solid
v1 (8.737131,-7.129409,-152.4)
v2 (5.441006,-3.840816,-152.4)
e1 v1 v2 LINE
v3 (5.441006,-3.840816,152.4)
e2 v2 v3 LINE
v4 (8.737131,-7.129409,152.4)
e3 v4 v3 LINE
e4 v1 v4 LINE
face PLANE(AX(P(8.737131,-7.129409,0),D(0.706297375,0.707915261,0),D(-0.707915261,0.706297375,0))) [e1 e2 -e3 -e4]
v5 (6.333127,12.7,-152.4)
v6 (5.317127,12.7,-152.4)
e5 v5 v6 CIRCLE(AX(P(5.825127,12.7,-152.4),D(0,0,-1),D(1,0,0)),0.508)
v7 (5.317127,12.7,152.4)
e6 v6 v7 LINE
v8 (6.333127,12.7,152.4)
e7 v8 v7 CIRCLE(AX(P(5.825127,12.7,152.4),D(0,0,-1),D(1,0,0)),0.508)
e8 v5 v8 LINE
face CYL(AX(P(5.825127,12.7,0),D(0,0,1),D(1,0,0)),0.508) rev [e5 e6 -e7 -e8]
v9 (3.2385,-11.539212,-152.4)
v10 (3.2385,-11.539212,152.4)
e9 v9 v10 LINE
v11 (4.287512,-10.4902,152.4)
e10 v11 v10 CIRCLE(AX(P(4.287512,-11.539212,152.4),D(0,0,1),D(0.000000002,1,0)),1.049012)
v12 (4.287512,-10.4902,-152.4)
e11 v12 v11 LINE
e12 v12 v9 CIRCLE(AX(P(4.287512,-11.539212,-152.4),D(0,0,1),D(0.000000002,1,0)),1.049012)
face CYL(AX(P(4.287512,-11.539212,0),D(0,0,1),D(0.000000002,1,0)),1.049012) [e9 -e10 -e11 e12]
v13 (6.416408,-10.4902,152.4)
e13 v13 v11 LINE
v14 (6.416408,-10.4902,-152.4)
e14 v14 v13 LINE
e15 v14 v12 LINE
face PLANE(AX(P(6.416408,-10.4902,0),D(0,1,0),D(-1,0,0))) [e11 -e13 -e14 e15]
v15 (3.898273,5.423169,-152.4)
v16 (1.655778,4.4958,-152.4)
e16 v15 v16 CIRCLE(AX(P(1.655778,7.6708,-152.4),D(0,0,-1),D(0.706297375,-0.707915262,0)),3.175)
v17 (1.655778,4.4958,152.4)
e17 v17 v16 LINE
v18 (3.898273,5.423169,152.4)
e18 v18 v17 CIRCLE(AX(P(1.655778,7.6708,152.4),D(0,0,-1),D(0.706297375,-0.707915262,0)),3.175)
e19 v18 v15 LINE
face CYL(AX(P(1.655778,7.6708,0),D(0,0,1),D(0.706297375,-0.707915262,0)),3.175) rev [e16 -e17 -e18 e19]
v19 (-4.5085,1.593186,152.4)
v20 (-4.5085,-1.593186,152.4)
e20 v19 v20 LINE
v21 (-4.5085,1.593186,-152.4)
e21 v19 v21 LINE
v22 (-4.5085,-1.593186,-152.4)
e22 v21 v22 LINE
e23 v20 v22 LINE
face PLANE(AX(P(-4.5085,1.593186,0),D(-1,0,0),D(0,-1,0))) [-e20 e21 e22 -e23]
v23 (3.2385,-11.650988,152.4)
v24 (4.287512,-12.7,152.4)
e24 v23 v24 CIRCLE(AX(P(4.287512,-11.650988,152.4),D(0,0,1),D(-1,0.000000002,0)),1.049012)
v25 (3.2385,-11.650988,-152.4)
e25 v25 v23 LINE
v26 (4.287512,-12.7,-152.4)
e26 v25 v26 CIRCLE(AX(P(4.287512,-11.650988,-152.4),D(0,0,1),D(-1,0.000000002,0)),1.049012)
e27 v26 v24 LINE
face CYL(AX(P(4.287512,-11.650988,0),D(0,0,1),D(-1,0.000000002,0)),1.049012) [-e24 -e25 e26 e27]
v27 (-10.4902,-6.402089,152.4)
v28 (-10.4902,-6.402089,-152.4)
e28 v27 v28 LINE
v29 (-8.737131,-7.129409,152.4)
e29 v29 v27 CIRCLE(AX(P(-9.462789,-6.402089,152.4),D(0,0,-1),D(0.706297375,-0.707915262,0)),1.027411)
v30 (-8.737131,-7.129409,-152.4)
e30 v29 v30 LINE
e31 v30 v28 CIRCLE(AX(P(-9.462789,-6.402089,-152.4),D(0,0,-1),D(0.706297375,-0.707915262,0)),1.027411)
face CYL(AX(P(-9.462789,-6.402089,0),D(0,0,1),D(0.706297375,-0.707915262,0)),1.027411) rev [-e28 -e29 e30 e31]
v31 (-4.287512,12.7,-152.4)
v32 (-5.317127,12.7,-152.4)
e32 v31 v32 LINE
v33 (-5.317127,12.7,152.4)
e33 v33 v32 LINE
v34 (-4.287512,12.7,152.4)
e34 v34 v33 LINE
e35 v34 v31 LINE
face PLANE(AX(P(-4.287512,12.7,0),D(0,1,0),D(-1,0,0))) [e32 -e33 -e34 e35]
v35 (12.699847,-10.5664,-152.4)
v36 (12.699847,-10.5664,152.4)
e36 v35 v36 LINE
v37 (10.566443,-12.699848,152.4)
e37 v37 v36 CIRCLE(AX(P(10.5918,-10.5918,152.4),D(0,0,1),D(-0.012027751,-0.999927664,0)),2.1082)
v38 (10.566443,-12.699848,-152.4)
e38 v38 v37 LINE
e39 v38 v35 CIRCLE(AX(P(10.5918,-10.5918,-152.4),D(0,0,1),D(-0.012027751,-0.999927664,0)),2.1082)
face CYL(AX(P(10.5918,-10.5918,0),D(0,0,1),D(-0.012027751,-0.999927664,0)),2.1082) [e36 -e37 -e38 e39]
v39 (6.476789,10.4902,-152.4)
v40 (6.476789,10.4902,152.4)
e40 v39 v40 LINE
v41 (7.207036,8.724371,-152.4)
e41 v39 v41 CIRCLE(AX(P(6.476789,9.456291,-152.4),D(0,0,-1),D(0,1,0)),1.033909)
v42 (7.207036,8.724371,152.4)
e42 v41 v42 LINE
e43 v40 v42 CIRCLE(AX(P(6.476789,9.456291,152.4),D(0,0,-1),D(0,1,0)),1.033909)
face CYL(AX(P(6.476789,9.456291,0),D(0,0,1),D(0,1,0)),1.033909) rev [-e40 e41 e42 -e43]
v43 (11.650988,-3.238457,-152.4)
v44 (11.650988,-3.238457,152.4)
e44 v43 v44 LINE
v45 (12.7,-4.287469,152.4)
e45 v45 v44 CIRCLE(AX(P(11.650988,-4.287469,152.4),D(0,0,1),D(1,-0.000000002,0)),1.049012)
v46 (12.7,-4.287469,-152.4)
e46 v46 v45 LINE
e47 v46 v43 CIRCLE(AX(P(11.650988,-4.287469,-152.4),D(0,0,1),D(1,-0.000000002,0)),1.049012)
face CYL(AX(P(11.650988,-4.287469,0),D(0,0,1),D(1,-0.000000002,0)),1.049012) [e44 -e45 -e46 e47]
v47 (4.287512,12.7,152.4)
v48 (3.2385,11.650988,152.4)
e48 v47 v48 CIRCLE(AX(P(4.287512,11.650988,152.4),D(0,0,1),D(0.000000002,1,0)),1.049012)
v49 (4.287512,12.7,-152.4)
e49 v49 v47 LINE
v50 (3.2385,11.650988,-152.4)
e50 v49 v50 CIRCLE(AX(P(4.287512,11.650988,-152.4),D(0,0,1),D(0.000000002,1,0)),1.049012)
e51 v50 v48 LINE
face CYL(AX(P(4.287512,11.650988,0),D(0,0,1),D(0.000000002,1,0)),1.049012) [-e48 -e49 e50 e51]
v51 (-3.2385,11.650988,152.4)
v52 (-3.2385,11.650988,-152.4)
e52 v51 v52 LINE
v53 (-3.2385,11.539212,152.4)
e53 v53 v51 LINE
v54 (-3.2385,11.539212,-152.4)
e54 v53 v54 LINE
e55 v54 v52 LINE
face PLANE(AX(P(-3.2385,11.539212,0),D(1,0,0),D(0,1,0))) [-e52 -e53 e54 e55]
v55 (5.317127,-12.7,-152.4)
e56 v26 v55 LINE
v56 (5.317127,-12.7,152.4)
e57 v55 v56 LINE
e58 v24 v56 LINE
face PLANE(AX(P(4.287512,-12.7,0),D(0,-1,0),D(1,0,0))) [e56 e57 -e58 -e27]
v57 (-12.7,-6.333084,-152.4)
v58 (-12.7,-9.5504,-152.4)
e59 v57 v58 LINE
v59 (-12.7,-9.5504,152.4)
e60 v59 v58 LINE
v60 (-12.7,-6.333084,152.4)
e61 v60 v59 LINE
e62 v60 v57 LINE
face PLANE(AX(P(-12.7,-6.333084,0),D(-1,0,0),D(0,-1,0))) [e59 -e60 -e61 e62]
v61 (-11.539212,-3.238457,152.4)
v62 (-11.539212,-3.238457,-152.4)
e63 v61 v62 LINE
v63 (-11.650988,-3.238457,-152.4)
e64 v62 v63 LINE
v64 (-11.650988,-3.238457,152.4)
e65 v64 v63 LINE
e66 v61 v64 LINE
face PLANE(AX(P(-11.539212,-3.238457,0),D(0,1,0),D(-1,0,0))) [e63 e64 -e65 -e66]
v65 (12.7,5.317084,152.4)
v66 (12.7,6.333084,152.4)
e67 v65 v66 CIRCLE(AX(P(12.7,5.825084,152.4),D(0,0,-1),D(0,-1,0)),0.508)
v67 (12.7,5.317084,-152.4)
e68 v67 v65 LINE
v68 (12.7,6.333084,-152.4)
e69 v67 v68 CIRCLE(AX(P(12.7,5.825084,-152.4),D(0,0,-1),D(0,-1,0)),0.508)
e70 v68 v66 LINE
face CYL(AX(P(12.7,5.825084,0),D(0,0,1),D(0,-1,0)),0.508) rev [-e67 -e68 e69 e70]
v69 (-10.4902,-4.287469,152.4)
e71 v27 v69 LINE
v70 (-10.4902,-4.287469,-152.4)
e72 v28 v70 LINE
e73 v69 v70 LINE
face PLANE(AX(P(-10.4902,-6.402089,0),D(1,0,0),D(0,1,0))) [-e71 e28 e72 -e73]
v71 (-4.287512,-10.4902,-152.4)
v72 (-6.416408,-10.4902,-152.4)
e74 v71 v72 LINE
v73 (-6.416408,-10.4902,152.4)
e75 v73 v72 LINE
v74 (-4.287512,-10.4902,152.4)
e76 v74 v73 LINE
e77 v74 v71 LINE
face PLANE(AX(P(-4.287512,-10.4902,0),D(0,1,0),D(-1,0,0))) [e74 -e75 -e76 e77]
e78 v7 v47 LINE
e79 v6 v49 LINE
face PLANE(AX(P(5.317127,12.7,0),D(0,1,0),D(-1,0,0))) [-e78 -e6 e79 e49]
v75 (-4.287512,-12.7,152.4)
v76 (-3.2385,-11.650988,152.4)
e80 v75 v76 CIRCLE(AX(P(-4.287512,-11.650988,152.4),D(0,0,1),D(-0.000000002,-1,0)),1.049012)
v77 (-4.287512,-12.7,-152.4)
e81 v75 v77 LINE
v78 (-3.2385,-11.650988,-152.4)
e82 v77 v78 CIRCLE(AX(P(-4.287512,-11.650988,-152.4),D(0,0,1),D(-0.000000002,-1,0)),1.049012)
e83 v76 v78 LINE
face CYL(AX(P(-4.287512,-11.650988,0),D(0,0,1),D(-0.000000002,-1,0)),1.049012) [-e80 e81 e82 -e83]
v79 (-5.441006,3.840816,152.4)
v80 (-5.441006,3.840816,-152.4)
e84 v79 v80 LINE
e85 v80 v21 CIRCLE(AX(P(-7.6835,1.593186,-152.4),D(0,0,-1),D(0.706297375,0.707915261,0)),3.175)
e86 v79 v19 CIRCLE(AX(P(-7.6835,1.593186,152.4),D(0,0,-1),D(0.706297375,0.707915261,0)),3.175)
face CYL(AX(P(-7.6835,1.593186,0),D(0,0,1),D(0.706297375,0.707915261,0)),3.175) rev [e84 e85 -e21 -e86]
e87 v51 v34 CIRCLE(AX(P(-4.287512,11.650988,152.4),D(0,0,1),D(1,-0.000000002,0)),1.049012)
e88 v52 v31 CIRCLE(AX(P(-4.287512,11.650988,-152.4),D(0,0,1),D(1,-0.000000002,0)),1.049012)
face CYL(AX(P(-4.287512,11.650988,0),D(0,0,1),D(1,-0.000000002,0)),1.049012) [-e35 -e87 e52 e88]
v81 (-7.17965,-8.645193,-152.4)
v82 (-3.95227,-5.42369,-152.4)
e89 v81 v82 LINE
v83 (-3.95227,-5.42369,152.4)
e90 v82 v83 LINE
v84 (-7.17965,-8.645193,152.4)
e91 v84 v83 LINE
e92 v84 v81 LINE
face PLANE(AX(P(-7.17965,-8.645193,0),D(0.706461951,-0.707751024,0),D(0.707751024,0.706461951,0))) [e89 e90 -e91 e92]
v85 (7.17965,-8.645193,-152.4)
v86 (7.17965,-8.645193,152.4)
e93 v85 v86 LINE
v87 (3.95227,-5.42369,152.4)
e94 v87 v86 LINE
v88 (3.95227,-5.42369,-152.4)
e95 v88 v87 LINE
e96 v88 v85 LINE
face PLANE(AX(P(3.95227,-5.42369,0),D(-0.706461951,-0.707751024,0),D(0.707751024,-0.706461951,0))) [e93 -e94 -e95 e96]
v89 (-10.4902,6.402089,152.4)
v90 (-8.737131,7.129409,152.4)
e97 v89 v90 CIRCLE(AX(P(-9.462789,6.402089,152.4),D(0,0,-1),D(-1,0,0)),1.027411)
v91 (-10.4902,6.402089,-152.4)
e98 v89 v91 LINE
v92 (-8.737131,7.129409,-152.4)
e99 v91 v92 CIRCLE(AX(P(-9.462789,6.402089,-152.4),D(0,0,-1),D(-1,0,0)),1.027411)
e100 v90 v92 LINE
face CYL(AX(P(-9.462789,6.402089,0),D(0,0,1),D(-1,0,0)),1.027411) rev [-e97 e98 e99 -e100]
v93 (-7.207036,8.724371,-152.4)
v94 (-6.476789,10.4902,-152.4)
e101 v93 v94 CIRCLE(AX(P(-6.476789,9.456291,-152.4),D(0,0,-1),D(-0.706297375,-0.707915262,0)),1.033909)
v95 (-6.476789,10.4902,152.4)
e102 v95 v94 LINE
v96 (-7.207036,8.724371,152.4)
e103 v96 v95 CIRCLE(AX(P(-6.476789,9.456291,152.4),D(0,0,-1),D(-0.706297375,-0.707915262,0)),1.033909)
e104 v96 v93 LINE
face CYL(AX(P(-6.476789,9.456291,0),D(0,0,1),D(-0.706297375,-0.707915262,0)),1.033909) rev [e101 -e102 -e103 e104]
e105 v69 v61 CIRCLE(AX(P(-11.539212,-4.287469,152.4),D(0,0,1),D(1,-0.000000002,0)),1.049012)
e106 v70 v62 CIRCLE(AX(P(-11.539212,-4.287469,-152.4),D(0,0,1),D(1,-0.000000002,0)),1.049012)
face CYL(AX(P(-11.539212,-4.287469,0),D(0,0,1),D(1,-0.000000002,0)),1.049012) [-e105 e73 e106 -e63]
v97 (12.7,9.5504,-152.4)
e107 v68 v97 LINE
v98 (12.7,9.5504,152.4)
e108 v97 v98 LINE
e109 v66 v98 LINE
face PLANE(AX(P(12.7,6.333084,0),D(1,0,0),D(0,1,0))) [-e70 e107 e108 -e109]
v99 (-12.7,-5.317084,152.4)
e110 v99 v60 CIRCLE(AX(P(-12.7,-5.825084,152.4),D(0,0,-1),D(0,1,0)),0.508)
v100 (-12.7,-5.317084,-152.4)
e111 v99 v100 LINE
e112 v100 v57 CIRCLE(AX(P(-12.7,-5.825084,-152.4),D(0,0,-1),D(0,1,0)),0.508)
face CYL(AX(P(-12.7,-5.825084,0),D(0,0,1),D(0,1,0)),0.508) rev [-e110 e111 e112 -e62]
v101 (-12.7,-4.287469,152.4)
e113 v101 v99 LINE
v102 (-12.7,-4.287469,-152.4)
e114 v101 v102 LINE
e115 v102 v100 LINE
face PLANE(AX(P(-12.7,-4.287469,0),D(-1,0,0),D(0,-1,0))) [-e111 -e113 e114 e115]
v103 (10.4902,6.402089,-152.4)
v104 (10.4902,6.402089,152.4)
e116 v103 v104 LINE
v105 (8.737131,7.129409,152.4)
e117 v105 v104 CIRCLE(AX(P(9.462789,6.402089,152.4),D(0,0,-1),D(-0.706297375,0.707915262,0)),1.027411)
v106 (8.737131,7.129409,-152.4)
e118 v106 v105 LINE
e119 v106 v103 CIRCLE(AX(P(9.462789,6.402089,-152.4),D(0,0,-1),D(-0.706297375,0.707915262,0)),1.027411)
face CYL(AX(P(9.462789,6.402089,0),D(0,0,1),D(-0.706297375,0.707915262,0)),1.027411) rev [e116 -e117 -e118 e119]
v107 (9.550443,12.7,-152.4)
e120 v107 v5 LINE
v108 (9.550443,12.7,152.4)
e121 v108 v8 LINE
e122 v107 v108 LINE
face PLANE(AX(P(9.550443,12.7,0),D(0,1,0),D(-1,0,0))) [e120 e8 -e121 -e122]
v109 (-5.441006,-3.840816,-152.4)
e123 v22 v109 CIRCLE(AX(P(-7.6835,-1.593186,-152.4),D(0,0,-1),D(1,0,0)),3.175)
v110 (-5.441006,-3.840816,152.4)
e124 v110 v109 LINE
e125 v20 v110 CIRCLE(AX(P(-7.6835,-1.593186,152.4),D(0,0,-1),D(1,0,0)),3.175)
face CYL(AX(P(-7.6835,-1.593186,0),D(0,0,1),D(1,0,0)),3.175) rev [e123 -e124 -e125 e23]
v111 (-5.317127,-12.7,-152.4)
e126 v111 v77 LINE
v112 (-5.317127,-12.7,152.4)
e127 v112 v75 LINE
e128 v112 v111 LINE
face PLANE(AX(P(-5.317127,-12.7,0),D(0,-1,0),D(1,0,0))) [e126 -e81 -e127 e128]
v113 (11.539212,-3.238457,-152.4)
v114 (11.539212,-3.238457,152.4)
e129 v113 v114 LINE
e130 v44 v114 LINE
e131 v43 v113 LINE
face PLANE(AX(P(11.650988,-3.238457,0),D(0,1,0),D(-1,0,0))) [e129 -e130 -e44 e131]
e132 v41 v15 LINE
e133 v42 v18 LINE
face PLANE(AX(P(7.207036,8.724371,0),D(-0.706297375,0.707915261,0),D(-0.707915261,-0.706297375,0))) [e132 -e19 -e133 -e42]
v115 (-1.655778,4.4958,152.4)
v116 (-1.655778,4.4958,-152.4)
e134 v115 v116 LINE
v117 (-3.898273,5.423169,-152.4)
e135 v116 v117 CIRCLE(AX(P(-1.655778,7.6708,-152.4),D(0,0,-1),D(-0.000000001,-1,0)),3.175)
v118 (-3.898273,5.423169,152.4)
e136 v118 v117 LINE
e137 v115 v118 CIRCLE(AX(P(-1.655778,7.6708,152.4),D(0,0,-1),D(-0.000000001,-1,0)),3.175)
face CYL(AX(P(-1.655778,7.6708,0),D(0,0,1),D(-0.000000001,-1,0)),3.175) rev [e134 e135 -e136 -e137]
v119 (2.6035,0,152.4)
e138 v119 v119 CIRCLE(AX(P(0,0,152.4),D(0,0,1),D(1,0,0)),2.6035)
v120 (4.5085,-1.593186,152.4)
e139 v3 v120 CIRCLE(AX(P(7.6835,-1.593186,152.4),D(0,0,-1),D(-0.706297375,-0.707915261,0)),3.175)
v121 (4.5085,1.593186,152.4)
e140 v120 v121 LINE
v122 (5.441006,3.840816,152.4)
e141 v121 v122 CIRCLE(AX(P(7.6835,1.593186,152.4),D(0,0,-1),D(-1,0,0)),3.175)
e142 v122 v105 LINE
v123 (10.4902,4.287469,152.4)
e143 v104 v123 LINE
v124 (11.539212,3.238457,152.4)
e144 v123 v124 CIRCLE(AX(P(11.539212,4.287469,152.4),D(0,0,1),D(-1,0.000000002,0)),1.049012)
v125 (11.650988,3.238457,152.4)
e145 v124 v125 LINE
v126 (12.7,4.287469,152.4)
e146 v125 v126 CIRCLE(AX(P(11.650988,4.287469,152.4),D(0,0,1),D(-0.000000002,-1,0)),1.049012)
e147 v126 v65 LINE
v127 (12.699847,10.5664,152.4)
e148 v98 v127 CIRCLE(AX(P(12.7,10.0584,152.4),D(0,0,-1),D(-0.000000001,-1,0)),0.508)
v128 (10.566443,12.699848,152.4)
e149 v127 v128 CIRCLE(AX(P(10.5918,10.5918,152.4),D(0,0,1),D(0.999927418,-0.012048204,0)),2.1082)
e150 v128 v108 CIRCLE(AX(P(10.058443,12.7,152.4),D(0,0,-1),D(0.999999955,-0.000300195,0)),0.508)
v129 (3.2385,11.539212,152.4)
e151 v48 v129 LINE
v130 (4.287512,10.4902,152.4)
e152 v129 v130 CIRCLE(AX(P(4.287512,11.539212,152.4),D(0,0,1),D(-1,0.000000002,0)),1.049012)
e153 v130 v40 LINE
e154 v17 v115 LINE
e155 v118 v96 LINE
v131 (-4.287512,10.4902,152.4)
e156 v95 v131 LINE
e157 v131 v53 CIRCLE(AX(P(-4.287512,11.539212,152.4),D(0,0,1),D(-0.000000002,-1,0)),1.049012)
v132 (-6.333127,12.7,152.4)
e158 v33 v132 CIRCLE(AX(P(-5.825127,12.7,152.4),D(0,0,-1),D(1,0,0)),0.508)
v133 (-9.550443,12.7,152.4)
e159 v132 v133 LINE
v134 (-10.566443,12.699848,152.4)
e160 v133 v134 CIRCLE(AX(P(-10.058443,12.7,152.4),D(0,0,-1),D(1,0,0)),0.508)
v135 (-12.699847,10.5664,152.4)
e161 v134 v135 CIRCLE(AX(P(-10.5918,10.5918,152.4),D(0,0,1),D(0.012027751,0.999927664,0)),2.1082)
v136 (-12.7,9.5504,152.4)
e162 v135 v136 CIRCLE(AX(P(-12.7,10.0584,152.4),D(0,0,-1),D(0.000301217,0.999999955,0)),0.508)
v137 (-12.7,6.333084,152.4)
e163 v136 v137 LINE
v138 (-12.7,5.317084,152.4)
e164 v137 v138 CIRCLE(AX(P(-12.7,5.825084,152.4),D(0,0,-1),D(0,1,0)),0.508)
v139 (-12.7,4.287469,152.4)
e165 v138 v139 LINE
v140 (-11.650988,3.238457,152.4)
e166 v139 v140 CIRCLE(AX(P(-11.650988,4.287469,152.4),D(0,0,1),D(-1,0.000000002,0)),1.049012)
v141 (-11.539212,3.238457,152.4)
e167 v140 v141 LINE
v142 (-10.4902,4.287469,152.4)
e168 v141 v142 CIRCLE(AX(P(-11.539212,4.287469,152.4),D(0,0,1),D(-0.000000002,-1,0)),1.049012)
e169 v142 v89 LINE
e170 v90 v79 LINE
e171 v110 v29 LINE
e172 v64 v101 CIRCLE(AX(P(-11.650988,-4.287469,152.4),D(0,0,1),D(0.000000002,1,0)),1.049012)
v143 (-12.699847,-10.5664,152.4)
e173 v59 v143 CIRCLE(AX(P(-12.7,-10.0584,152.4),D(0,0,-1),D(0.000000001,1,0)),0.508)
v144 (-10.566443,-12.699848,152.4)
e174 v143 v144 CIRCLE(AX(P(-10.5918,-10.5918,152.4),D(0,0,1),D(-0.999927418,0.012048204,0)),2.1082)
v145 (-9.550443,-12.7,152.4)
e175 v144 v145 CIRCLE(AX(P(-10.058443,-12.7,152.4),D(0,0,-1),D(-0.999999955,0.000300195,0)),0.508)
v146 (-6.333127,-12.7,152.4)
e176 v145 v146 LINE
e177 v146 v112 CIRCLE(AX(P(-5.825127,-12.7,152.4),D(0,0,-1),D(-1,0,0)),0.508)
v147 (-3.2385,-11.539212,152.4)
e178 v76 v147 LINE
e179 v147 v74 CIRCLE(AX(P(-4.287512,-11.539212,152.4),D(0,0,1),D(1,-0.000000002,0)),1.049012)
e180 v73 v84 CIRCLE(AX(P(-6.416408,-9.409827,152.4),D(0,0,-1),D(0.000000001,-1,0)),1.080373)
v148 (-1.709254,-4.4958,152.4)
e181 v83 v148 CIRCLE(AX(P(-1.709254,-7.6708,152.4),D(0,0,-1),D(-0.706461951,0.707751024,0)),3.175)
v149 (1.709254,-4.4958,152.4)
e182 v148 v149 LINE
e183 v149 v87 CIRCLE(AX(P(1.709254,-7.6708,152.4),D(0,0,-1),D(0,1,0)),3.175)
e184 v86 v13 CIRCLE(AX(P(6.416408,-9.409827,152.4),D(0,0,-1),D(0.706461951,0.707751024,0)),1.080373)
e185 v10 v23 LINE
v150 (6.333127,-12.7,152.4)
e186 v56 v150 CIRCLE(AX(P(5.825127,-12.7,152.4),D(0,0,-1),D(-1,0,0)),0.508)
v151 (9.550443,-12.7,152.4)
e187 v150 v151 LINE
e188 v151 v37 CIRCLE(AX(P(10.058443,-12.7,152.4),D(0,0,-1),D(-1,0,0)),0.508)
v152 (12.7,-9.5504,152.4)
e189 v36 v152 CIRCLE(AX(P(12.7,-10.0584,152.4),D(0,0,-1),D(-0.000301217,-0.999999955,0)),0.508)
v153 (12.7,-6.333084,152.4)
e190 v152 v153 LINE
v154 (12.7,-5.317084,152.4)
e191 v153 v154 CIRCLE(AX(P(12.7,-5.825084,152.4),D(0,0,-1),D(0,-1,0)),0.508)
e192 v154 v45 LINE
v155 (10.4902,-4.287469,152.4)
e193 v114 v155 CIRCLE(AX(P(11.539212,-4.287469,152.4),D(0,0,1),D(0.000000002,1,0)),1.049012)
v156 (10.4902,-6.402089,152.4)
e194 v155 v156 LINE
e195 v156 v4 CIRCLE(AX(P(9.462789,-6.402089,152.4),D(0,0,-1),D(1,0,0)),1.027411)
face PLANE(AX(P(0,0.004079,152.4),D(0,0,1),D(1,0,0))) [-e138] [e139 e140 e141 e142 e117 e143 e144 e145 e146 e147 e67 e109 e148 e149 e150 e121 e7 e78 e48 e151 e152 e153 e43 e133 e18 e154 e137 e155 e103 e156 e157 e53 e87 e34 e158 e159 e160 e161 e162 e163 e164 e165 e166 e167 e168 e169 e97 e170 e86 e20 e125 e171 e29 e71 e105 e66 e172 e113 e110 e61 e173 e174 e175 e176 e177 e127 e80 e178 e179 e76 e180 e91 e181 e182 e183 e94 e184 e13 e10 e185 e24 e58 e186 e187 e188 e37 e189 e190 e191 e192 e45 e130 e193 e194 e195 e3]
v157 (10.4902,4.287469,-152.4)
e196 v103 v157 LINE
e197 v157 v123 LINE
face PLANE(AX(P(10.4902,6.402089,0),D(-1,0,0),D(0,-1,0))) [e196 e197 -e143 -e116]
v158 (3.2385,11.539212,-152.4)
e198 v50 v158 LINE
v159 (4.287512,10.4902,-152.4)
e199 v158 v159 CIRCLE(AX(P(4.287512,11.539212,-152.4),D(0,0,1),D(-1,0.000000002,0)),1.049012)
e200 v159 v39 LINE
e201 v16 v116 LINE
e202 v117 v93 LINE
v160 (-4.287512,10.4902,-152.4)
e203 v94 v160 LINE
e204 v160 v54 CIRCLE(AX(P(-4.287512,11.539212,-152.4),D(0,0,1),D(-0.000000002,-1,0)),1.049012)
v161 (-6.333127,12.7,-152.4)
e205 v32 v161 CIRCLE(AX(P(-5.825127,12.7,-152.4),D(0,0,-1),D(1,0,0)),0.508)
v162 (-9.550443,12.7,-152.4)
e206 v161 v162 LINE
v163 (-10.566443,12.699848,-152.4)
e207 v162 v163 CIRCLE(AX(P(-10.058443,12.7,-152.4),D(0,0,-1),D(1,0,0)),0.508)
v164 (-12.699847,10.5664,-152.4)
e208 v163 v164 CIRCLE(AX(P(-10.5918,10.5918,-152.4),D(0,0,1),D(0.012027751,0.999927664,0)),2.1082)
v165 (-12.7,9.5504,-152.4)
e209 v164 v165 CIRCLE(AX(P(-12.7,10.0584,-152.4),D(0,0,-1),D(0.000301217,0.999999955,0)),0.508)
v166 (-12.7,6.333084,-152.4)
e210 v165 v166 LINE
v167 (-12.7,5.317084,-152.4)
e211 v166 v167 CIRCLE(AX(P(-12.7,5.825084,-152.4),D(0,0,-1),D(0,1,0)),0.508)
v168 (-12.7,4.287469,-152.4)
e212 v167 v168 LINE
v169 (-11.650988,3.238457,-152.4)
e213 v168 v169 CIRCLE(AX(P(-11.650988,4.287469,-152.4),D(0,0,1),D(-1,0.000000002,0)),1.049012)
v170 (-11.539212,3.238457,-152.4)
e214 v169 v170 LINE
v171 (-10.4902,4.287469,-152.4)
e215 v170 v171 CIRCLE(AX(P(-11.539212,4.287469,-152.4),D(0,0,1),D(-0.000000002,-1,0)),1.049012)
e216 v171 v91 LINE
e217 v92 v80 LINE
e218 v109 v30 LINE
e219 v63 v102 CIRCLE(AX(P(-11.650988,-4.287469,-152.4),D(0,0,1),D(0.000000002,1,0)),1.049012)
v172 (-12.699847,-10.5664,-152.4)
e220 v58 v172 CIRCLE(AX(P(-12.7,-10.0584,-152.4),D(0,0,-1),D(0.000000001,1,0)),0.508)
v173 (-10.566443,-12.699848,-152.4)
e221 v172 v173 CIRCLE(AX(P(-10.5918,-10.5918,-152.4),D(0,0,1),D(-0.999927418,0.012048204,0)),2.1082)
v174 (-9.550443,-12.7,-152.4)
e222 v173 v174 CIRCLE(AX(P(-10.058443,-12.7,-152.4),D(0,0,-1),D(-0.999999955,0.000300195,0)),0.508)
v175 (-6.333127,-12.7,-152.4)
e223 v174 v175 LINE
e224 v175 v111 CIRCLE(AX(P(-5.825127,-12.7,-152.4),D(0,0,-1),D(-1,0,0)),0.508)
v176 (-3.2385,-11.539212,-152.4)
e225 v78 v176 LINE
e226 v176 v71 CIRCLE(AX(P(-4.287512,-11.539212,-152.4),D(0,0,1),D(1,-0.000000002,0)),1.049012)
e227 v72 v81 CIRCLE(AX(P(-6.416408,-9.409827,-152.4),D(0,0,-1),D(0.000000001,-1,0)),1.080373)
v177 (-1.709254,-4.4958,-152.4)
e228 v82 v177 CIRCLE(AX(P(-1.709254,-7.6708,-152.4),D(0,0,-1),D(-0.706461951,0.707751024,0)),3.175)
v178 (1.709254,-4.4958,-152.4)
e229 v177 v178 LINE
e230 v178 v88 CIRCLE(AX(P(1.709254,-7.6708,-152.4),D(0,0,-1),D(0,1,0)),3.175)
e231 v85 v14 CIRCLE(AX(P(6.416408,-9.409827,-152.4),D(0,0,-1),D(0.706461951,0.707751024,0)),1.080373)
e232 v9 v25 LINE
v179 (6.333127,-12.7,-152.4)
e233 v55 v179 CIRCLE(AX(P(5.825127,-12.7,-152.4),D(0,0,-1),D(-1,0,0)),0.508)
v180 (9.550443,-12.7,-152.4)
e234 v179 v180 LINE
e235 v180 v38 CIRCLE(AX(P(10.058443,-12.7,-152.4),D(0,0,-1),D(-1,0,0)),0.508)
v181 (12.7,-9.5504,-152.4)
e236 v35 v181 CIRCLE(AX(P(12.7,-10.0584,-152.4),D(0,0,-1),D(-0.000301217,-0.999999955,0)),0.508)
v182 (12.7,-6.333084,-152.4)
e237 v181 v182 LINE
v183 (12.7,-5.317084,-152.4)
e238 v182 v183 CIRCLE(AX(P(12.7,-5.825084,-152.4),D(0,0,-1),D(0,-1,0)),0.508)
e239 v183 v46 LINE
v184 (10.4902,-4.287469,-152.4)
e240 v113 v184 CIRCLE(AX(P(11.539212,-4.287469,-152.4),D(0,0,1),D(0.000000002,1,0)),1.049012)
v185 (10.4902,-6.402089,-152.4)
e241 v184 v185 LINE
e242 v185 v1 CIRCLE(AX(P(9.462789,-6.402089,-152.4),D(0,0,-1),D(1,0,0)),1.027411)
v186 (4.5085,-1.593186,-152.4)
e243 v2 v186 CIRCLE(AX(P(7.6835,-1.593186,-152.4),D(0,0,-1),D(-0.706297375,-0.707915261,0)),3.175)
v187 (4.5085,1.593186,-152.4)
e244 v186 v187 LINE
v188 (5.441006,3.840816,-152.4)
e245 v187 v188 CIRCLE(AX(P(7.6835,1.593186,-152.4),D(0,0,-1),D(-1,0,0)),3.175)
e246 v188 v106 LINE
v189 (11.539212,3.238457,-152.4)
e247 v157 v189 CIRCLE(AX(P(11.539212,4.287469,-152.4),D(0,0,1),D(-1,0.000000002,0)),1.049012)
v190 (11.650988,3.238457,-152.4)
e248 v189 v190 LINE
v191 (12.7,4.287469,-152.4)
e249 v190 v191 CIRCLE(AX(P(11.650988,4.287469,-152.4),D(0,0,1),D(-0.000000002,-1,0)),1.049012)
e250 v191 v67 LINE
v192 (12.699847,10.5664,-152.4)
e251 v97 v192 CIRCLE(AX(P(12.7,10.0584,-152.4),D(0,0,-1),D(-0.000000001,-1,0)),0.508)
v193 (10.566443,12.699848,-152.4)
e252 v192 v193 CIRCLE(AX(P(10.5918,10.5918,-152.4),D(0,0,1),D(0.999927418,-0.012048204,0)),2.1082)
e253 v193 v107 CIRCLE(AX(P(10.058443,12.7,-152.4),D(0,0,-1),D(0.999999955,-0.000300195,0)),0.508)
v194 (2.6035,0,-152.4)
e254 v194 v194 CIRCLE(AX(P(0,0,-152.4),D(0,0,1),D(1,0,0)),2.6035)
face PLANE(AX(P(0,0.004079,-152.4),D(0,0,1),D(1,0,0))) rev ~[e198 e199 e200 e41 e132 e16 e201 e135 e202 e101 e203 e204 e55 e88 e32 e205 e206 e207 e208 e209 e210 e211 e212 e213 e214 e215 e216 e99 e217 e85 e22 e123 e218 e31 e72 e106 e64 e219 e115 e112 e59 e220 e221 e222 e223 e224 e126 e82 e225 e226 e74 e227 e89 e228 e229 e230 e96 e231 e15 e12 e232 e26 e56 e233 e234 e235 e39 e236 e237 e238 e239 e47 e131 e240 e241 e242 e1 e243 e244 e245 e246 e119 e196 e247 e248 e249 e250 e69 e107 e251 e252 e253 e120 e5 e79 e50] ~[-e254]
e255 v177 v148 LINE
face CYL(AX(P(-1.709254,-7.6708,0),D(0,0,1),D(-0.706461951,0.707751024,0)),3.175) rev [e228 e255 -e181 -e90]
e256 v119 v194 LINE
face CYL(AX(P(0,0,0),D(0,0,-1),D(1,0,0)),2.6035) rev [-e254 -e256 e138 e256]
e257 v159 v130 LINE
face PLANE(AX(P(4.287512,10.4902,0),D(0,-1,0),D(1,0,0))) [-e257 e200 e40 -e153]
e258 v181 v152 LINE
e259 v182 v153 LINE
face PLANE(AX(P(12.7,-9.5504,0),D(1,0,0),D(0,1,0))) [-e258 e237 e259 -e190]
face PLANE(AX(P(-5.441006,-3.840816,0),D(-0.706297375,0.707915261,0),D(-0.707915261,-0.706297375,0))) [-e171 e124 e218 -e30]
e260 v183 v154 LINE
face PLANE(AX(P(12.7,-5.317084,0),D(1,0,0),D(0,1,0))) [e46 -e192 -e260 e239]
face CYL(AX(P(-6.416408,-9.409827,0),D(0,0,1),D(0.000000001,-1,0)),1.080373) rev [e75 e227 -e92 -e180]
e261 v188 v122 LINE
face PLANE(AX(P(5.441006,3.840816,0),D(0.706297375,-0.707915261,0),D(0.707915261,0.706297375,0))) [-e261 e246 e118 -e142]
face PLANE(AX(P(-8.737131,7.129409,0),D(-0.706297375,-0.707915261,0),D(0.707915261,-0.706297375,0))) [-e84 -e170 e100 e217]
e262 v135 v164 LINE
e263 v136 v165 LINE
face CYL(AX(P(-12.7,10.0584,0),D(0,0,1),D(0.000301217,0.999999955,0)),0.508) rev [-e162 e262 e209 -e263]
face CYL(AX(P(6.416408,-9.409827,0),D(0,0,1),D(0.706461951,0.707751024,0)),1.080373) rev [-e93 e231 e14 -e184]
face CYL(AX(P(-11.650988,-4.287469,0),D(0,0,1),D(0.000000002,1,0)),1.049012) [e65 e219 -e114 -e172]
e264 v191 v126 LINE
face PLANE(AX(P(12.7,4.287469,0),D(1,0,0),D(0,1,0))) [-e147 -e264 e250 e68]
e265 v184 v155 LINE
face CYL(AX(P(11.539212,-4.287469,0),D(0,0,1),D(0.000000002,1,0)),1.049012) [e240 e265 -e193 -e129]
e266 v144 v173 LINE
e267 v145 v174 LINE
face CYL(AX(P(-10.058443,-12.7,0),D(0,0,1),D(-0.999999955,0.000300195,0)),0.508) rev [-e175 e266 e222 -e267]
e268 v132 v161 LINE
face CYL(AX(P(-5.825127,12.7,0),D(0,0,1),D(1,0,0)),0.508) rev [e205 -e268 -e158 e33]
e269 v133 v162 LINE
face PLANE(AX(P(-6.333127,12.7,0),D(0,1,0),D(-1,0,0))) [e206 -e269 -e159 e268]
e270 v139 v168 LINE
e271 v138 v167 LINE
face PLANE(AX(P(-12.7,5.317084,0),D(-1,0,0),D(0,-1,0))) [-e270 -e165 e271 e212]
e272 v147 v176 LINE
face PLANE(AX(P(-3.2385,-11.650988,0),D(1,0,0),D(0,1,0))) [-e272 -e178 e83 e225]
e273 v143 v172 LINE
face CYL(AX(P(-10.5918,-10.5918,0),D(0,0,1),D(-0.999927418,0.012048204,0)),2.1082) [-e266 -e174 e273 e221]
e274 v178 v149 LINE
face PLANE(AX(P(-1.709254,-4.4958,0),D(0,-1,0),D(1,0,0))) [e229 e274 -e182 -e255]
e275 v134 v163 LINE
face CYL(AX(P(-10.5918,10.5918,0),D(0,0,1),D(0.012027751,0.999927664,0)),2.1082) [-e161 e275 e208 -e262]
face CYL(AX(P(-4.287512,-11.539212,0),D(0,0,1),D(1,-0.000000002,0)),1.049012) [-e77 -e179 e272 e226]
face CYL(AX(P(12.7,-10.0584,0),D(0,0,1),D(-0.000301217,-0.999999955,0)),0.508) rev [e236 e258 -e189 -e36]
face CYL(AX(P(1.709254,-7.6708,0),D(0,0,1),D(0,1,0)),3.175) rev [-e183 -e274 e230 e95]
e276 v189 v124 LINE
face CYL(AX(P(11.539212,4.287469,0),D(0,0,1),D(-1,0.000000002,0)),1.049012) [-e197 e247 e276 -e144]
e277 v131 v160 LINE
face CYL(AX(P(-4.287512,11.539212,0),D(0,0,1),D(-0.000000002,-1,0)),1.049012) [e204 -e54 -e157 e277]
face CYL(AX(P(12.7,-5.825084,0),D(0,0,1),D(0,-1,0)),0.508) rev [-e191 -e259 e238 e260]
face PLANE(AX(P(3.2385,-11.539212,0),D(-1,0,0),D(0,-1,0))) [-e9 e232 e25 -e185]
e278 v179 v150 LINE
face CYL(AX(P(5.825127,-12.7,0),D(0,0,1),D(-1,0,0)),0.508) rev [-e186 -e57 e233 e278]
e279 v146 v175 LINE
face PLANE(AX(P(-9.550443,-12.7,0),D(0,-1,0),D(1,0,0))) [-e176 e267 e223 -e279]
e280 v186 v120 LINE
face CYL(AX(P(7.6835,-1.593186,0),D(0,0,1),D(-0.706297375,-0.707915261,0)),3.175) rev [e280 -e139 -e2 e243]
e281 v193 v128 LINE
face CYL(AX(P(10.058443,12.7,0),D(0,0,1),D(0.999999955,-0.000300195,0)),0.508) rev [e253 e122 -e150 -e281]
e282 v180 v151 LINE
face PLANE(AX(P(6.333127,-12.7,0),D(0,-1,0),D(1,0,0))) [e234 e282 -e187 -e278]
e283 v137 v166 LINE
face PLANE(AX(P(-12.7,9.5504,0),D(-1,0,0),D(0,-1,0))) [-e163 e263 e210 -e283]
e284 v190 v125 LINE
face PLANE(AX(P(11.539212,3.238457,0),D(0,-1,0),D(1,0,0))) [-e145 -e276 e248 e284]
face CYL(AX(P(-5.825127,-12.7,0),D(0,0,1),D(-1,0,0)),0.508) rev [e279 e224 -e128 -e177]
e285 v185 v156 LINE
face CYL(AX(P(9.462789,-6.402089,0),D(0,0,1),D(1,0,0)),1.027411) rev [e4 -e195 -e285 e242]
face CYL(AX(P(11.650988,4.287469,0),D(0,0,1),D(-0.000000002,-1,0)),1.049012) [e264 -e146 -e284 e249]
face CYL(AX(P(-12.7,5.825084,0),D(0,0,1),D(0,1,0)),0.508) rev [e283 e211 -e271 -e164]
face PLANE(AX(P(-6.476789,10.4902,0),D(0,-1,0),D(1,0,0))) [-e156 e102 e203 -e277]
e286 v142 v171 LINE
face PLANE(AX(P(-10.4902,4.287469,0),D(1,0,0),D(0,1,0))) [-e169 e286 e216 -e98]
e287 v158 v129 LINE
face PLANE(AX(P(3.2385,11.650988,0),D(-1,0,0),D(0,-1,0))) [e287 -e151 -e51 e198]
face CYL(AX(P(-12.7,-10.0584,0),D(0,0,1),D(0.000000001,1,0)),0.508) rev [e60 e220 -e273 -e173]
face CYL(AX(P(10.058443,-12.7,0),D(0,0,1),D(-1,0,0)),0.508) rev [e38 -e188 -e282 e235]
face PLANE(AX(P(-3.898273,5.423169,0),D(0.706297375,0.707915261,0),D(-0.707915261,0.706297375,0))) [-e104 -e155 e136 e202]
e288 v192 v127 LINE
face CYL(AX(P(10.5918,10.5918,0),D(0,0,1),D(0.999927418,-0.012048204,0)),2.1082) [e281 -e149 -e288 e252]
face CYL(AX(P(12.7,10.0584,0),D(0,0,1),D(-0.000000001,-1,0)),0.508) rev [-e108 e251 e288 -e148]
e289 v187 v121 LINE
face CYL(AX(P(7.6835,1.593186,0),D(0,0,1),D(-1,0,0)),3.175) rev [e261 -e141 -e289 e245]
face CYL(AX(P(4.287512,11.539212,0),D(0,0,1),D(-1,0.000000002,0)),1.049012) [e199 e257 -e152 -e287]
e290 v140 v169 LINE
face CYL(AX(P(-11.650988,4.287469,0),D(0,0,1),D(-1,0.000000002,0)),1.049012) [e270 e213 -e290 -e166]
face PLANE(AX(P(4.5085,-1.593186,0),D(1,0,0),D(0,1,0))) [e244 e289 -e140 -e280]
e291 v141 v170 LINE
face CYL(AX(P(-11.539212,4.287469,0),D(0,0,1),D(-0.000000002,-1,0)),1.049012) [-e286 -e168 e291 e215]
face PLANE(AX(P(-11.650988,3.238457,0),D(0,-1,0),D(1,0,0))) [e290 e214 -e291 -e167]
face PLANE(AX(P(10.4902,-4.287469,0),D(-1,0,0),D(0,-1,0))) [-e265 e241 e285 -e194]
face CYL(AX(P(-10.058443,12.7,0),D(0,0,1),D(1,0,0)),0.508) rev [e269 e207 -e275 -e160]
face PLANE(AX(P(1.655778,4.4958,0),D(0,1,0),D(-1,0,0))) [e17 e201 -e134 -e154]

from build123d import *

# Parameters (mm, degrees)
SKETCH1_R           = 2.6035
BOSS_EXTRUDE1_DEPTH = 152.4


with BuildPart() as part:
    # Sketch1 → Boss-Extrude1 (new body, symmetric)
    with BuildSketch(Plane.XY):
        with BuildLine():
            Line((-7.179650497, -8.645192506), (-3.952270251, -5.423690499))
            ThreePointArc((-3.952270251, -5.423690499), (-2.922936451, -4.736929036), (-1.709253557, -4.4958))
            Line((-1.709253557, -4.4958), (1.709253557, -4.4958))
            ThreePointArc((1.709253557, -4.4958), (2.922936451, -4.736929036), (3.952270251, -5.423690499))
            Line((3.952270251, -5.423690499), (7.179650497, -8.645192506))
            ThreePointArc((7.179650497, -8.645192506), (7.41473083, -9.822813117), (6.416408329, -10.4902))
            Line((6.416408329, -10.4902), (4.287512407, -10.4902))
            ThreePointArc((4.287512407, -10.4902), (3.54574862, -10.79744862), (3.2385, -11.539212407))
            Line((3.2385, -11.539212407), (3.2385, -11.650987593))
            ThreePointArc((3.2385, -11.650987593), (3.54574862, -12.39275138), (4.287512407, -12.7))
            Line((4.287512407, -12.7), (5.317126718, -12.7))
            ThreePointArc((5.317126718, -12.7), (5.825126718, -12.192), (6.333126718, -12.7))
            Line((6.333126718, -12.7), (9.550443118, -12.7))
            ThreePointArc((9.550443118, -12.7), (10.058366869, -12.192000006), (10.566443095, -12.699847501))
            ThreePointArc((10.566443095, -12.699847501), (12.082537762, -12.08250727), (12.699846982, -10.566399977))
            ThreePointArc((12.699846982, -10.566399977), (12.192000006, -10.058323491), (12.7, -9.5504))
            Line((12.7, -9.5504), (12.7, -6.3330836))
            ThreePointArc((12.7, -6.3330836), (12.192, -5.8250836), (12.7, -5.3170836))
            Line((12.7, -5.3170836), (12.7, -4.287469289))
            ThreePointArc((12.7, -4.287469289), (12.39275138, -3.545705502), (11.650987593, -3.238456882))
            Line((11.650987593, -3.238456882), (11.539212407, -3.238456882))
            ThreePointArc((11.539212407, -3.238456882), (10.79744862, -3.545705502), (10.4902, -4.287469289))
            Line((10.4902, -4.287469289), (10.4902, -6.402089023))
            ThreePointArc((10.4902, -6.402089023), (9.856505071, -7.351067942), (8.737131347, -7.129408934))
            Line((8.737131347, -7.129408934), (5.441005833, -3.840816462))
            ThreePointArc((5.441005833, -3.840816462), (4.750877967, -2.809883091), (4.5085, -1.593185507))
            Line((4.5085, -1.593185507), (4.5085, 1.593185507))
            ThreePointArc((4.5085, 1.593185507), (4.750877967, 2.809883091), (5.441005833, 3.840816462))
            Line((5.441005833, 3.840816462), (8.737131347, 7.129408934))
            ThreePointArc((8.737131347, 7.129408934), (9.856505071, 7.351067942), (10.4902, 6.402089023))
            Line((10.4902, 6.402089023), (10.4902, 4.287469289))
            ThreePointArc((10.4902, 4.287469289), (10.79744862, 3.545705502), (11.539212407, 3.238456882))
            Line((11.539212407, 3.238456882), (11.650987593, 3.238456882))
            ThreePointArc((11.650987593, 3.238456882), (12.39275138, 3.545705502), (12.7, 4.287469289))
            Line((12.7, 4.287469289), (12.7, 5.3170836))
            ThreePointArc((12.7, 5.3170836), (12.192, 5.8250836), (12.7, 6.3330836))
            Line((12.7, 6.3330836), (12.7, 9.5504))
            ThreePointArc((12.7, 9.5504), (12.192000006, 10.058323491), (12.699846982, 10.566399977))
            ThreePointArc((12.699846982, 10.566399977), (12.082537762, 12.08250727), (10.566443095, 12.699847501))
            ThreePointArc((10.566443095, 12.699847501), (10.058366869, 12.192000006), (9.550443118, 12.7))
            Line((9.550443118, 12.7), (6.333126718, 12.7))
            ThreePointArc((6.333126718, 12.7), (5.825126718, 12.192), (5.317126718, 12.7))
            Line((5.317126718, 12.7), (4.287512407, 12.7))
            ThreePointArc((4.287512407, 12.7), (3.54574862, 12.39275138), (3.2385, 11.650987593))
            Line((3.2385, 11.650987593), (3.2385, 11.539212407))
            ThreePointArc((3.2385, 11.539212407), (3.54574862, 10.79744862), (4.287512407, 10.4902))
            Line((4.287512407, 10.4902), (6.476788598, 10.4902))
            ThreePointArc((6.476788598, 10.4902), (7.432222385, 9.85140422), (7.207036008, 8.724370562))
            Line((7.207036008, 8.724370562), (3.898272566, 5.423169045))
            ThreePointArc((3.898272566, 5.423169045), (2.869120213, 4.736787962), (1.655778399, 4.4958))
            Line((1.655778399, 4.4958), (-1.655778399, 4.4958))
            ThreePointArc((-1.655778399, 4.4958), (-2.869120213, 4.736787962), (-3.898272566, 5.423169045))
            Line((-3.898272566, 5.423169045), (-7.207036008, 8.724370562))
            ThreePointArc((-7.207036008, 8.724370562), (-7.432222385, 9.85140422), (-6.476788598, 10.4902))
            Line((-6.476788598, 10.4902), (-4.287512407, 10.4902))
            ThreePointArc((-4.287512407, 10.4902), (-3.54574862, 10.79744862), (-3.2385, 11.539212407))
            Line((-3.2385, 11.539212407), (-3.2385, 11.650987593))
            ThreePointArc((-3.2385, 11.650987593), (-3.54574862, 12.39275138), (-4.287512407, 12.7))
            Line((-4.287512407, 12.7), (-5.317126718, 12.7))
            ThreePointArc((-5.317126718, 12.7), (-5.825126718, 12.192), (-6.333126718, 12.7))
            Line((-6.333126718, 12.7), (-9.550443118, 12.7))
            ThreePointArc((-9.550443118, 12.7), (-10.058366869, 12.192000006), (-10.566443095, 12.699847501))
            ThreePointArc((-10.566443095, 12.699847501), (-12.082537762, 12.08250727), (-12.699846982, 10.566399977))
            ThreePointArc((-12.699846982, 10.566399977), (-12.192000006, 10.058323491), (-12.7, 9.5504))
            Line((-12.7, 9.5504), (-12.7, 6.3330836))
            ThreePointArc((-12.7, 6.3330836), (-12.192, 5.8250836), (-12.7, 5.3170836))
            Line((-12.7, 5.3170836), (-12.7, 4.287469289))
            ThreePointArc((-12.7, 4.287469289), (-12.39275138, 3.545705502), (-11.650987593, 3.238456882))
            Line((-11.650987593, 3.238456882), (-11.539212407, 3.238456882))
            ThreePointArc((-11.539212407, 3.238456882), (-10.79744862, 3.545705502), (-10.4902, 4.287469289))
            Line((-10.4902, 4.287469289), (-10.4902, 6.402089023))
            ThreePointArc((-10.4902, 6.402089023), (-9.856505071, 7.351067942), (-8.737131347, 7.129408934))
            Line((-8.737131347, 7.129408934), (-5.441005833, 3.840816462))
            ThreePointArc((-5.441005833, 3.840816462), (-4.750877967, 2.809883091), (-4.5085, 1.593185507))
            Line((-4.5085, 1.593185507), (-4.5085, -1.593185507))
            ThreePointArc((-4.5085, -1.593185507), (-4.750877967, -2.809883091), (-5.441005833, -3.840816462))
            Line((-5.441005833, -3.840816462), (-8.737131347, -7.129408934))
            ThreePointArc((-8.737131347, -7.129408934), (-9.856505071, -7.351067942), (-10.4902, -6.402089023))
            Line((-10.4902, -6.402089023), (-10.4902, -4.287469289))
            ThreePointArc((-10.4902, -4.287469289), (-10.79744862, -3.545705502), (-11.539212407, -3.238456882))
            Line((-11.539212407, -3.238456882), (-11.650987593, -3.238456882))
            ThreePointArc((-11.650987593, -3.238456882), (-12.39275138, -3.545705502), (-12.7, -4.287469289))
            Line((-12.7, -4.287469289), (-12.7, -5.3170836))
            ThreePointArc((-12.7, -5.3170836), (-12.192, -5.8250836), (-12.7, -6.3330836))
            Line((-12.7, -6.3330836), (-12.7, -9.5504))
            ThreePointArc((-12.7, -9.5504), (-12.192000006, -10.058323491), (-12.699846982, -10.566399977))
            ThreePointArc((-12.699846982, -10.566399977), (-12.082537762, -12.08250727), (-10.566443095, -12.699847501))
            ThreePointArc((-10.566443095, -12.699847501), (-10.058366869, -12.192000006), (-9.550443118, -12.7))
            Line((-9.550443118, -12.7), (-6.333126718, -12.7))
            ThreePointArc((-6.333126718, -12.7), (-5.825126718, -12.192), (-5.317126718, -12.7))
            Line((-5.317126718, -12.7), (-4.287512407, -12.7))
            ThreePointArc((-4.287512407, -12.7), (-3.54574862, -12.39275138), (-3.2385, -11.650987593))
            Line((-3.2385, -11.650987593), (-3.2385, -11.539212407))
            ThreePointArc((-3.2385, -11.539212407), (-3.54574862, -10.79744862), (-4.287512407, -10.4902))
            Line((-4.287512407, -10.4902), (-6.416408329, -10.4902))
            ThreePointArc((-6.416408329, -10.4902), (-7.41473083, -9.822813117), (-7.179650497, -8.645192506))
        make_face()
        Circle(SKETCH1_R, mode=Mode.SUBTRACT)
    extrude(amount=BOSS_EXTRUDE1_DEPTH, both=True)


solid = part.part
